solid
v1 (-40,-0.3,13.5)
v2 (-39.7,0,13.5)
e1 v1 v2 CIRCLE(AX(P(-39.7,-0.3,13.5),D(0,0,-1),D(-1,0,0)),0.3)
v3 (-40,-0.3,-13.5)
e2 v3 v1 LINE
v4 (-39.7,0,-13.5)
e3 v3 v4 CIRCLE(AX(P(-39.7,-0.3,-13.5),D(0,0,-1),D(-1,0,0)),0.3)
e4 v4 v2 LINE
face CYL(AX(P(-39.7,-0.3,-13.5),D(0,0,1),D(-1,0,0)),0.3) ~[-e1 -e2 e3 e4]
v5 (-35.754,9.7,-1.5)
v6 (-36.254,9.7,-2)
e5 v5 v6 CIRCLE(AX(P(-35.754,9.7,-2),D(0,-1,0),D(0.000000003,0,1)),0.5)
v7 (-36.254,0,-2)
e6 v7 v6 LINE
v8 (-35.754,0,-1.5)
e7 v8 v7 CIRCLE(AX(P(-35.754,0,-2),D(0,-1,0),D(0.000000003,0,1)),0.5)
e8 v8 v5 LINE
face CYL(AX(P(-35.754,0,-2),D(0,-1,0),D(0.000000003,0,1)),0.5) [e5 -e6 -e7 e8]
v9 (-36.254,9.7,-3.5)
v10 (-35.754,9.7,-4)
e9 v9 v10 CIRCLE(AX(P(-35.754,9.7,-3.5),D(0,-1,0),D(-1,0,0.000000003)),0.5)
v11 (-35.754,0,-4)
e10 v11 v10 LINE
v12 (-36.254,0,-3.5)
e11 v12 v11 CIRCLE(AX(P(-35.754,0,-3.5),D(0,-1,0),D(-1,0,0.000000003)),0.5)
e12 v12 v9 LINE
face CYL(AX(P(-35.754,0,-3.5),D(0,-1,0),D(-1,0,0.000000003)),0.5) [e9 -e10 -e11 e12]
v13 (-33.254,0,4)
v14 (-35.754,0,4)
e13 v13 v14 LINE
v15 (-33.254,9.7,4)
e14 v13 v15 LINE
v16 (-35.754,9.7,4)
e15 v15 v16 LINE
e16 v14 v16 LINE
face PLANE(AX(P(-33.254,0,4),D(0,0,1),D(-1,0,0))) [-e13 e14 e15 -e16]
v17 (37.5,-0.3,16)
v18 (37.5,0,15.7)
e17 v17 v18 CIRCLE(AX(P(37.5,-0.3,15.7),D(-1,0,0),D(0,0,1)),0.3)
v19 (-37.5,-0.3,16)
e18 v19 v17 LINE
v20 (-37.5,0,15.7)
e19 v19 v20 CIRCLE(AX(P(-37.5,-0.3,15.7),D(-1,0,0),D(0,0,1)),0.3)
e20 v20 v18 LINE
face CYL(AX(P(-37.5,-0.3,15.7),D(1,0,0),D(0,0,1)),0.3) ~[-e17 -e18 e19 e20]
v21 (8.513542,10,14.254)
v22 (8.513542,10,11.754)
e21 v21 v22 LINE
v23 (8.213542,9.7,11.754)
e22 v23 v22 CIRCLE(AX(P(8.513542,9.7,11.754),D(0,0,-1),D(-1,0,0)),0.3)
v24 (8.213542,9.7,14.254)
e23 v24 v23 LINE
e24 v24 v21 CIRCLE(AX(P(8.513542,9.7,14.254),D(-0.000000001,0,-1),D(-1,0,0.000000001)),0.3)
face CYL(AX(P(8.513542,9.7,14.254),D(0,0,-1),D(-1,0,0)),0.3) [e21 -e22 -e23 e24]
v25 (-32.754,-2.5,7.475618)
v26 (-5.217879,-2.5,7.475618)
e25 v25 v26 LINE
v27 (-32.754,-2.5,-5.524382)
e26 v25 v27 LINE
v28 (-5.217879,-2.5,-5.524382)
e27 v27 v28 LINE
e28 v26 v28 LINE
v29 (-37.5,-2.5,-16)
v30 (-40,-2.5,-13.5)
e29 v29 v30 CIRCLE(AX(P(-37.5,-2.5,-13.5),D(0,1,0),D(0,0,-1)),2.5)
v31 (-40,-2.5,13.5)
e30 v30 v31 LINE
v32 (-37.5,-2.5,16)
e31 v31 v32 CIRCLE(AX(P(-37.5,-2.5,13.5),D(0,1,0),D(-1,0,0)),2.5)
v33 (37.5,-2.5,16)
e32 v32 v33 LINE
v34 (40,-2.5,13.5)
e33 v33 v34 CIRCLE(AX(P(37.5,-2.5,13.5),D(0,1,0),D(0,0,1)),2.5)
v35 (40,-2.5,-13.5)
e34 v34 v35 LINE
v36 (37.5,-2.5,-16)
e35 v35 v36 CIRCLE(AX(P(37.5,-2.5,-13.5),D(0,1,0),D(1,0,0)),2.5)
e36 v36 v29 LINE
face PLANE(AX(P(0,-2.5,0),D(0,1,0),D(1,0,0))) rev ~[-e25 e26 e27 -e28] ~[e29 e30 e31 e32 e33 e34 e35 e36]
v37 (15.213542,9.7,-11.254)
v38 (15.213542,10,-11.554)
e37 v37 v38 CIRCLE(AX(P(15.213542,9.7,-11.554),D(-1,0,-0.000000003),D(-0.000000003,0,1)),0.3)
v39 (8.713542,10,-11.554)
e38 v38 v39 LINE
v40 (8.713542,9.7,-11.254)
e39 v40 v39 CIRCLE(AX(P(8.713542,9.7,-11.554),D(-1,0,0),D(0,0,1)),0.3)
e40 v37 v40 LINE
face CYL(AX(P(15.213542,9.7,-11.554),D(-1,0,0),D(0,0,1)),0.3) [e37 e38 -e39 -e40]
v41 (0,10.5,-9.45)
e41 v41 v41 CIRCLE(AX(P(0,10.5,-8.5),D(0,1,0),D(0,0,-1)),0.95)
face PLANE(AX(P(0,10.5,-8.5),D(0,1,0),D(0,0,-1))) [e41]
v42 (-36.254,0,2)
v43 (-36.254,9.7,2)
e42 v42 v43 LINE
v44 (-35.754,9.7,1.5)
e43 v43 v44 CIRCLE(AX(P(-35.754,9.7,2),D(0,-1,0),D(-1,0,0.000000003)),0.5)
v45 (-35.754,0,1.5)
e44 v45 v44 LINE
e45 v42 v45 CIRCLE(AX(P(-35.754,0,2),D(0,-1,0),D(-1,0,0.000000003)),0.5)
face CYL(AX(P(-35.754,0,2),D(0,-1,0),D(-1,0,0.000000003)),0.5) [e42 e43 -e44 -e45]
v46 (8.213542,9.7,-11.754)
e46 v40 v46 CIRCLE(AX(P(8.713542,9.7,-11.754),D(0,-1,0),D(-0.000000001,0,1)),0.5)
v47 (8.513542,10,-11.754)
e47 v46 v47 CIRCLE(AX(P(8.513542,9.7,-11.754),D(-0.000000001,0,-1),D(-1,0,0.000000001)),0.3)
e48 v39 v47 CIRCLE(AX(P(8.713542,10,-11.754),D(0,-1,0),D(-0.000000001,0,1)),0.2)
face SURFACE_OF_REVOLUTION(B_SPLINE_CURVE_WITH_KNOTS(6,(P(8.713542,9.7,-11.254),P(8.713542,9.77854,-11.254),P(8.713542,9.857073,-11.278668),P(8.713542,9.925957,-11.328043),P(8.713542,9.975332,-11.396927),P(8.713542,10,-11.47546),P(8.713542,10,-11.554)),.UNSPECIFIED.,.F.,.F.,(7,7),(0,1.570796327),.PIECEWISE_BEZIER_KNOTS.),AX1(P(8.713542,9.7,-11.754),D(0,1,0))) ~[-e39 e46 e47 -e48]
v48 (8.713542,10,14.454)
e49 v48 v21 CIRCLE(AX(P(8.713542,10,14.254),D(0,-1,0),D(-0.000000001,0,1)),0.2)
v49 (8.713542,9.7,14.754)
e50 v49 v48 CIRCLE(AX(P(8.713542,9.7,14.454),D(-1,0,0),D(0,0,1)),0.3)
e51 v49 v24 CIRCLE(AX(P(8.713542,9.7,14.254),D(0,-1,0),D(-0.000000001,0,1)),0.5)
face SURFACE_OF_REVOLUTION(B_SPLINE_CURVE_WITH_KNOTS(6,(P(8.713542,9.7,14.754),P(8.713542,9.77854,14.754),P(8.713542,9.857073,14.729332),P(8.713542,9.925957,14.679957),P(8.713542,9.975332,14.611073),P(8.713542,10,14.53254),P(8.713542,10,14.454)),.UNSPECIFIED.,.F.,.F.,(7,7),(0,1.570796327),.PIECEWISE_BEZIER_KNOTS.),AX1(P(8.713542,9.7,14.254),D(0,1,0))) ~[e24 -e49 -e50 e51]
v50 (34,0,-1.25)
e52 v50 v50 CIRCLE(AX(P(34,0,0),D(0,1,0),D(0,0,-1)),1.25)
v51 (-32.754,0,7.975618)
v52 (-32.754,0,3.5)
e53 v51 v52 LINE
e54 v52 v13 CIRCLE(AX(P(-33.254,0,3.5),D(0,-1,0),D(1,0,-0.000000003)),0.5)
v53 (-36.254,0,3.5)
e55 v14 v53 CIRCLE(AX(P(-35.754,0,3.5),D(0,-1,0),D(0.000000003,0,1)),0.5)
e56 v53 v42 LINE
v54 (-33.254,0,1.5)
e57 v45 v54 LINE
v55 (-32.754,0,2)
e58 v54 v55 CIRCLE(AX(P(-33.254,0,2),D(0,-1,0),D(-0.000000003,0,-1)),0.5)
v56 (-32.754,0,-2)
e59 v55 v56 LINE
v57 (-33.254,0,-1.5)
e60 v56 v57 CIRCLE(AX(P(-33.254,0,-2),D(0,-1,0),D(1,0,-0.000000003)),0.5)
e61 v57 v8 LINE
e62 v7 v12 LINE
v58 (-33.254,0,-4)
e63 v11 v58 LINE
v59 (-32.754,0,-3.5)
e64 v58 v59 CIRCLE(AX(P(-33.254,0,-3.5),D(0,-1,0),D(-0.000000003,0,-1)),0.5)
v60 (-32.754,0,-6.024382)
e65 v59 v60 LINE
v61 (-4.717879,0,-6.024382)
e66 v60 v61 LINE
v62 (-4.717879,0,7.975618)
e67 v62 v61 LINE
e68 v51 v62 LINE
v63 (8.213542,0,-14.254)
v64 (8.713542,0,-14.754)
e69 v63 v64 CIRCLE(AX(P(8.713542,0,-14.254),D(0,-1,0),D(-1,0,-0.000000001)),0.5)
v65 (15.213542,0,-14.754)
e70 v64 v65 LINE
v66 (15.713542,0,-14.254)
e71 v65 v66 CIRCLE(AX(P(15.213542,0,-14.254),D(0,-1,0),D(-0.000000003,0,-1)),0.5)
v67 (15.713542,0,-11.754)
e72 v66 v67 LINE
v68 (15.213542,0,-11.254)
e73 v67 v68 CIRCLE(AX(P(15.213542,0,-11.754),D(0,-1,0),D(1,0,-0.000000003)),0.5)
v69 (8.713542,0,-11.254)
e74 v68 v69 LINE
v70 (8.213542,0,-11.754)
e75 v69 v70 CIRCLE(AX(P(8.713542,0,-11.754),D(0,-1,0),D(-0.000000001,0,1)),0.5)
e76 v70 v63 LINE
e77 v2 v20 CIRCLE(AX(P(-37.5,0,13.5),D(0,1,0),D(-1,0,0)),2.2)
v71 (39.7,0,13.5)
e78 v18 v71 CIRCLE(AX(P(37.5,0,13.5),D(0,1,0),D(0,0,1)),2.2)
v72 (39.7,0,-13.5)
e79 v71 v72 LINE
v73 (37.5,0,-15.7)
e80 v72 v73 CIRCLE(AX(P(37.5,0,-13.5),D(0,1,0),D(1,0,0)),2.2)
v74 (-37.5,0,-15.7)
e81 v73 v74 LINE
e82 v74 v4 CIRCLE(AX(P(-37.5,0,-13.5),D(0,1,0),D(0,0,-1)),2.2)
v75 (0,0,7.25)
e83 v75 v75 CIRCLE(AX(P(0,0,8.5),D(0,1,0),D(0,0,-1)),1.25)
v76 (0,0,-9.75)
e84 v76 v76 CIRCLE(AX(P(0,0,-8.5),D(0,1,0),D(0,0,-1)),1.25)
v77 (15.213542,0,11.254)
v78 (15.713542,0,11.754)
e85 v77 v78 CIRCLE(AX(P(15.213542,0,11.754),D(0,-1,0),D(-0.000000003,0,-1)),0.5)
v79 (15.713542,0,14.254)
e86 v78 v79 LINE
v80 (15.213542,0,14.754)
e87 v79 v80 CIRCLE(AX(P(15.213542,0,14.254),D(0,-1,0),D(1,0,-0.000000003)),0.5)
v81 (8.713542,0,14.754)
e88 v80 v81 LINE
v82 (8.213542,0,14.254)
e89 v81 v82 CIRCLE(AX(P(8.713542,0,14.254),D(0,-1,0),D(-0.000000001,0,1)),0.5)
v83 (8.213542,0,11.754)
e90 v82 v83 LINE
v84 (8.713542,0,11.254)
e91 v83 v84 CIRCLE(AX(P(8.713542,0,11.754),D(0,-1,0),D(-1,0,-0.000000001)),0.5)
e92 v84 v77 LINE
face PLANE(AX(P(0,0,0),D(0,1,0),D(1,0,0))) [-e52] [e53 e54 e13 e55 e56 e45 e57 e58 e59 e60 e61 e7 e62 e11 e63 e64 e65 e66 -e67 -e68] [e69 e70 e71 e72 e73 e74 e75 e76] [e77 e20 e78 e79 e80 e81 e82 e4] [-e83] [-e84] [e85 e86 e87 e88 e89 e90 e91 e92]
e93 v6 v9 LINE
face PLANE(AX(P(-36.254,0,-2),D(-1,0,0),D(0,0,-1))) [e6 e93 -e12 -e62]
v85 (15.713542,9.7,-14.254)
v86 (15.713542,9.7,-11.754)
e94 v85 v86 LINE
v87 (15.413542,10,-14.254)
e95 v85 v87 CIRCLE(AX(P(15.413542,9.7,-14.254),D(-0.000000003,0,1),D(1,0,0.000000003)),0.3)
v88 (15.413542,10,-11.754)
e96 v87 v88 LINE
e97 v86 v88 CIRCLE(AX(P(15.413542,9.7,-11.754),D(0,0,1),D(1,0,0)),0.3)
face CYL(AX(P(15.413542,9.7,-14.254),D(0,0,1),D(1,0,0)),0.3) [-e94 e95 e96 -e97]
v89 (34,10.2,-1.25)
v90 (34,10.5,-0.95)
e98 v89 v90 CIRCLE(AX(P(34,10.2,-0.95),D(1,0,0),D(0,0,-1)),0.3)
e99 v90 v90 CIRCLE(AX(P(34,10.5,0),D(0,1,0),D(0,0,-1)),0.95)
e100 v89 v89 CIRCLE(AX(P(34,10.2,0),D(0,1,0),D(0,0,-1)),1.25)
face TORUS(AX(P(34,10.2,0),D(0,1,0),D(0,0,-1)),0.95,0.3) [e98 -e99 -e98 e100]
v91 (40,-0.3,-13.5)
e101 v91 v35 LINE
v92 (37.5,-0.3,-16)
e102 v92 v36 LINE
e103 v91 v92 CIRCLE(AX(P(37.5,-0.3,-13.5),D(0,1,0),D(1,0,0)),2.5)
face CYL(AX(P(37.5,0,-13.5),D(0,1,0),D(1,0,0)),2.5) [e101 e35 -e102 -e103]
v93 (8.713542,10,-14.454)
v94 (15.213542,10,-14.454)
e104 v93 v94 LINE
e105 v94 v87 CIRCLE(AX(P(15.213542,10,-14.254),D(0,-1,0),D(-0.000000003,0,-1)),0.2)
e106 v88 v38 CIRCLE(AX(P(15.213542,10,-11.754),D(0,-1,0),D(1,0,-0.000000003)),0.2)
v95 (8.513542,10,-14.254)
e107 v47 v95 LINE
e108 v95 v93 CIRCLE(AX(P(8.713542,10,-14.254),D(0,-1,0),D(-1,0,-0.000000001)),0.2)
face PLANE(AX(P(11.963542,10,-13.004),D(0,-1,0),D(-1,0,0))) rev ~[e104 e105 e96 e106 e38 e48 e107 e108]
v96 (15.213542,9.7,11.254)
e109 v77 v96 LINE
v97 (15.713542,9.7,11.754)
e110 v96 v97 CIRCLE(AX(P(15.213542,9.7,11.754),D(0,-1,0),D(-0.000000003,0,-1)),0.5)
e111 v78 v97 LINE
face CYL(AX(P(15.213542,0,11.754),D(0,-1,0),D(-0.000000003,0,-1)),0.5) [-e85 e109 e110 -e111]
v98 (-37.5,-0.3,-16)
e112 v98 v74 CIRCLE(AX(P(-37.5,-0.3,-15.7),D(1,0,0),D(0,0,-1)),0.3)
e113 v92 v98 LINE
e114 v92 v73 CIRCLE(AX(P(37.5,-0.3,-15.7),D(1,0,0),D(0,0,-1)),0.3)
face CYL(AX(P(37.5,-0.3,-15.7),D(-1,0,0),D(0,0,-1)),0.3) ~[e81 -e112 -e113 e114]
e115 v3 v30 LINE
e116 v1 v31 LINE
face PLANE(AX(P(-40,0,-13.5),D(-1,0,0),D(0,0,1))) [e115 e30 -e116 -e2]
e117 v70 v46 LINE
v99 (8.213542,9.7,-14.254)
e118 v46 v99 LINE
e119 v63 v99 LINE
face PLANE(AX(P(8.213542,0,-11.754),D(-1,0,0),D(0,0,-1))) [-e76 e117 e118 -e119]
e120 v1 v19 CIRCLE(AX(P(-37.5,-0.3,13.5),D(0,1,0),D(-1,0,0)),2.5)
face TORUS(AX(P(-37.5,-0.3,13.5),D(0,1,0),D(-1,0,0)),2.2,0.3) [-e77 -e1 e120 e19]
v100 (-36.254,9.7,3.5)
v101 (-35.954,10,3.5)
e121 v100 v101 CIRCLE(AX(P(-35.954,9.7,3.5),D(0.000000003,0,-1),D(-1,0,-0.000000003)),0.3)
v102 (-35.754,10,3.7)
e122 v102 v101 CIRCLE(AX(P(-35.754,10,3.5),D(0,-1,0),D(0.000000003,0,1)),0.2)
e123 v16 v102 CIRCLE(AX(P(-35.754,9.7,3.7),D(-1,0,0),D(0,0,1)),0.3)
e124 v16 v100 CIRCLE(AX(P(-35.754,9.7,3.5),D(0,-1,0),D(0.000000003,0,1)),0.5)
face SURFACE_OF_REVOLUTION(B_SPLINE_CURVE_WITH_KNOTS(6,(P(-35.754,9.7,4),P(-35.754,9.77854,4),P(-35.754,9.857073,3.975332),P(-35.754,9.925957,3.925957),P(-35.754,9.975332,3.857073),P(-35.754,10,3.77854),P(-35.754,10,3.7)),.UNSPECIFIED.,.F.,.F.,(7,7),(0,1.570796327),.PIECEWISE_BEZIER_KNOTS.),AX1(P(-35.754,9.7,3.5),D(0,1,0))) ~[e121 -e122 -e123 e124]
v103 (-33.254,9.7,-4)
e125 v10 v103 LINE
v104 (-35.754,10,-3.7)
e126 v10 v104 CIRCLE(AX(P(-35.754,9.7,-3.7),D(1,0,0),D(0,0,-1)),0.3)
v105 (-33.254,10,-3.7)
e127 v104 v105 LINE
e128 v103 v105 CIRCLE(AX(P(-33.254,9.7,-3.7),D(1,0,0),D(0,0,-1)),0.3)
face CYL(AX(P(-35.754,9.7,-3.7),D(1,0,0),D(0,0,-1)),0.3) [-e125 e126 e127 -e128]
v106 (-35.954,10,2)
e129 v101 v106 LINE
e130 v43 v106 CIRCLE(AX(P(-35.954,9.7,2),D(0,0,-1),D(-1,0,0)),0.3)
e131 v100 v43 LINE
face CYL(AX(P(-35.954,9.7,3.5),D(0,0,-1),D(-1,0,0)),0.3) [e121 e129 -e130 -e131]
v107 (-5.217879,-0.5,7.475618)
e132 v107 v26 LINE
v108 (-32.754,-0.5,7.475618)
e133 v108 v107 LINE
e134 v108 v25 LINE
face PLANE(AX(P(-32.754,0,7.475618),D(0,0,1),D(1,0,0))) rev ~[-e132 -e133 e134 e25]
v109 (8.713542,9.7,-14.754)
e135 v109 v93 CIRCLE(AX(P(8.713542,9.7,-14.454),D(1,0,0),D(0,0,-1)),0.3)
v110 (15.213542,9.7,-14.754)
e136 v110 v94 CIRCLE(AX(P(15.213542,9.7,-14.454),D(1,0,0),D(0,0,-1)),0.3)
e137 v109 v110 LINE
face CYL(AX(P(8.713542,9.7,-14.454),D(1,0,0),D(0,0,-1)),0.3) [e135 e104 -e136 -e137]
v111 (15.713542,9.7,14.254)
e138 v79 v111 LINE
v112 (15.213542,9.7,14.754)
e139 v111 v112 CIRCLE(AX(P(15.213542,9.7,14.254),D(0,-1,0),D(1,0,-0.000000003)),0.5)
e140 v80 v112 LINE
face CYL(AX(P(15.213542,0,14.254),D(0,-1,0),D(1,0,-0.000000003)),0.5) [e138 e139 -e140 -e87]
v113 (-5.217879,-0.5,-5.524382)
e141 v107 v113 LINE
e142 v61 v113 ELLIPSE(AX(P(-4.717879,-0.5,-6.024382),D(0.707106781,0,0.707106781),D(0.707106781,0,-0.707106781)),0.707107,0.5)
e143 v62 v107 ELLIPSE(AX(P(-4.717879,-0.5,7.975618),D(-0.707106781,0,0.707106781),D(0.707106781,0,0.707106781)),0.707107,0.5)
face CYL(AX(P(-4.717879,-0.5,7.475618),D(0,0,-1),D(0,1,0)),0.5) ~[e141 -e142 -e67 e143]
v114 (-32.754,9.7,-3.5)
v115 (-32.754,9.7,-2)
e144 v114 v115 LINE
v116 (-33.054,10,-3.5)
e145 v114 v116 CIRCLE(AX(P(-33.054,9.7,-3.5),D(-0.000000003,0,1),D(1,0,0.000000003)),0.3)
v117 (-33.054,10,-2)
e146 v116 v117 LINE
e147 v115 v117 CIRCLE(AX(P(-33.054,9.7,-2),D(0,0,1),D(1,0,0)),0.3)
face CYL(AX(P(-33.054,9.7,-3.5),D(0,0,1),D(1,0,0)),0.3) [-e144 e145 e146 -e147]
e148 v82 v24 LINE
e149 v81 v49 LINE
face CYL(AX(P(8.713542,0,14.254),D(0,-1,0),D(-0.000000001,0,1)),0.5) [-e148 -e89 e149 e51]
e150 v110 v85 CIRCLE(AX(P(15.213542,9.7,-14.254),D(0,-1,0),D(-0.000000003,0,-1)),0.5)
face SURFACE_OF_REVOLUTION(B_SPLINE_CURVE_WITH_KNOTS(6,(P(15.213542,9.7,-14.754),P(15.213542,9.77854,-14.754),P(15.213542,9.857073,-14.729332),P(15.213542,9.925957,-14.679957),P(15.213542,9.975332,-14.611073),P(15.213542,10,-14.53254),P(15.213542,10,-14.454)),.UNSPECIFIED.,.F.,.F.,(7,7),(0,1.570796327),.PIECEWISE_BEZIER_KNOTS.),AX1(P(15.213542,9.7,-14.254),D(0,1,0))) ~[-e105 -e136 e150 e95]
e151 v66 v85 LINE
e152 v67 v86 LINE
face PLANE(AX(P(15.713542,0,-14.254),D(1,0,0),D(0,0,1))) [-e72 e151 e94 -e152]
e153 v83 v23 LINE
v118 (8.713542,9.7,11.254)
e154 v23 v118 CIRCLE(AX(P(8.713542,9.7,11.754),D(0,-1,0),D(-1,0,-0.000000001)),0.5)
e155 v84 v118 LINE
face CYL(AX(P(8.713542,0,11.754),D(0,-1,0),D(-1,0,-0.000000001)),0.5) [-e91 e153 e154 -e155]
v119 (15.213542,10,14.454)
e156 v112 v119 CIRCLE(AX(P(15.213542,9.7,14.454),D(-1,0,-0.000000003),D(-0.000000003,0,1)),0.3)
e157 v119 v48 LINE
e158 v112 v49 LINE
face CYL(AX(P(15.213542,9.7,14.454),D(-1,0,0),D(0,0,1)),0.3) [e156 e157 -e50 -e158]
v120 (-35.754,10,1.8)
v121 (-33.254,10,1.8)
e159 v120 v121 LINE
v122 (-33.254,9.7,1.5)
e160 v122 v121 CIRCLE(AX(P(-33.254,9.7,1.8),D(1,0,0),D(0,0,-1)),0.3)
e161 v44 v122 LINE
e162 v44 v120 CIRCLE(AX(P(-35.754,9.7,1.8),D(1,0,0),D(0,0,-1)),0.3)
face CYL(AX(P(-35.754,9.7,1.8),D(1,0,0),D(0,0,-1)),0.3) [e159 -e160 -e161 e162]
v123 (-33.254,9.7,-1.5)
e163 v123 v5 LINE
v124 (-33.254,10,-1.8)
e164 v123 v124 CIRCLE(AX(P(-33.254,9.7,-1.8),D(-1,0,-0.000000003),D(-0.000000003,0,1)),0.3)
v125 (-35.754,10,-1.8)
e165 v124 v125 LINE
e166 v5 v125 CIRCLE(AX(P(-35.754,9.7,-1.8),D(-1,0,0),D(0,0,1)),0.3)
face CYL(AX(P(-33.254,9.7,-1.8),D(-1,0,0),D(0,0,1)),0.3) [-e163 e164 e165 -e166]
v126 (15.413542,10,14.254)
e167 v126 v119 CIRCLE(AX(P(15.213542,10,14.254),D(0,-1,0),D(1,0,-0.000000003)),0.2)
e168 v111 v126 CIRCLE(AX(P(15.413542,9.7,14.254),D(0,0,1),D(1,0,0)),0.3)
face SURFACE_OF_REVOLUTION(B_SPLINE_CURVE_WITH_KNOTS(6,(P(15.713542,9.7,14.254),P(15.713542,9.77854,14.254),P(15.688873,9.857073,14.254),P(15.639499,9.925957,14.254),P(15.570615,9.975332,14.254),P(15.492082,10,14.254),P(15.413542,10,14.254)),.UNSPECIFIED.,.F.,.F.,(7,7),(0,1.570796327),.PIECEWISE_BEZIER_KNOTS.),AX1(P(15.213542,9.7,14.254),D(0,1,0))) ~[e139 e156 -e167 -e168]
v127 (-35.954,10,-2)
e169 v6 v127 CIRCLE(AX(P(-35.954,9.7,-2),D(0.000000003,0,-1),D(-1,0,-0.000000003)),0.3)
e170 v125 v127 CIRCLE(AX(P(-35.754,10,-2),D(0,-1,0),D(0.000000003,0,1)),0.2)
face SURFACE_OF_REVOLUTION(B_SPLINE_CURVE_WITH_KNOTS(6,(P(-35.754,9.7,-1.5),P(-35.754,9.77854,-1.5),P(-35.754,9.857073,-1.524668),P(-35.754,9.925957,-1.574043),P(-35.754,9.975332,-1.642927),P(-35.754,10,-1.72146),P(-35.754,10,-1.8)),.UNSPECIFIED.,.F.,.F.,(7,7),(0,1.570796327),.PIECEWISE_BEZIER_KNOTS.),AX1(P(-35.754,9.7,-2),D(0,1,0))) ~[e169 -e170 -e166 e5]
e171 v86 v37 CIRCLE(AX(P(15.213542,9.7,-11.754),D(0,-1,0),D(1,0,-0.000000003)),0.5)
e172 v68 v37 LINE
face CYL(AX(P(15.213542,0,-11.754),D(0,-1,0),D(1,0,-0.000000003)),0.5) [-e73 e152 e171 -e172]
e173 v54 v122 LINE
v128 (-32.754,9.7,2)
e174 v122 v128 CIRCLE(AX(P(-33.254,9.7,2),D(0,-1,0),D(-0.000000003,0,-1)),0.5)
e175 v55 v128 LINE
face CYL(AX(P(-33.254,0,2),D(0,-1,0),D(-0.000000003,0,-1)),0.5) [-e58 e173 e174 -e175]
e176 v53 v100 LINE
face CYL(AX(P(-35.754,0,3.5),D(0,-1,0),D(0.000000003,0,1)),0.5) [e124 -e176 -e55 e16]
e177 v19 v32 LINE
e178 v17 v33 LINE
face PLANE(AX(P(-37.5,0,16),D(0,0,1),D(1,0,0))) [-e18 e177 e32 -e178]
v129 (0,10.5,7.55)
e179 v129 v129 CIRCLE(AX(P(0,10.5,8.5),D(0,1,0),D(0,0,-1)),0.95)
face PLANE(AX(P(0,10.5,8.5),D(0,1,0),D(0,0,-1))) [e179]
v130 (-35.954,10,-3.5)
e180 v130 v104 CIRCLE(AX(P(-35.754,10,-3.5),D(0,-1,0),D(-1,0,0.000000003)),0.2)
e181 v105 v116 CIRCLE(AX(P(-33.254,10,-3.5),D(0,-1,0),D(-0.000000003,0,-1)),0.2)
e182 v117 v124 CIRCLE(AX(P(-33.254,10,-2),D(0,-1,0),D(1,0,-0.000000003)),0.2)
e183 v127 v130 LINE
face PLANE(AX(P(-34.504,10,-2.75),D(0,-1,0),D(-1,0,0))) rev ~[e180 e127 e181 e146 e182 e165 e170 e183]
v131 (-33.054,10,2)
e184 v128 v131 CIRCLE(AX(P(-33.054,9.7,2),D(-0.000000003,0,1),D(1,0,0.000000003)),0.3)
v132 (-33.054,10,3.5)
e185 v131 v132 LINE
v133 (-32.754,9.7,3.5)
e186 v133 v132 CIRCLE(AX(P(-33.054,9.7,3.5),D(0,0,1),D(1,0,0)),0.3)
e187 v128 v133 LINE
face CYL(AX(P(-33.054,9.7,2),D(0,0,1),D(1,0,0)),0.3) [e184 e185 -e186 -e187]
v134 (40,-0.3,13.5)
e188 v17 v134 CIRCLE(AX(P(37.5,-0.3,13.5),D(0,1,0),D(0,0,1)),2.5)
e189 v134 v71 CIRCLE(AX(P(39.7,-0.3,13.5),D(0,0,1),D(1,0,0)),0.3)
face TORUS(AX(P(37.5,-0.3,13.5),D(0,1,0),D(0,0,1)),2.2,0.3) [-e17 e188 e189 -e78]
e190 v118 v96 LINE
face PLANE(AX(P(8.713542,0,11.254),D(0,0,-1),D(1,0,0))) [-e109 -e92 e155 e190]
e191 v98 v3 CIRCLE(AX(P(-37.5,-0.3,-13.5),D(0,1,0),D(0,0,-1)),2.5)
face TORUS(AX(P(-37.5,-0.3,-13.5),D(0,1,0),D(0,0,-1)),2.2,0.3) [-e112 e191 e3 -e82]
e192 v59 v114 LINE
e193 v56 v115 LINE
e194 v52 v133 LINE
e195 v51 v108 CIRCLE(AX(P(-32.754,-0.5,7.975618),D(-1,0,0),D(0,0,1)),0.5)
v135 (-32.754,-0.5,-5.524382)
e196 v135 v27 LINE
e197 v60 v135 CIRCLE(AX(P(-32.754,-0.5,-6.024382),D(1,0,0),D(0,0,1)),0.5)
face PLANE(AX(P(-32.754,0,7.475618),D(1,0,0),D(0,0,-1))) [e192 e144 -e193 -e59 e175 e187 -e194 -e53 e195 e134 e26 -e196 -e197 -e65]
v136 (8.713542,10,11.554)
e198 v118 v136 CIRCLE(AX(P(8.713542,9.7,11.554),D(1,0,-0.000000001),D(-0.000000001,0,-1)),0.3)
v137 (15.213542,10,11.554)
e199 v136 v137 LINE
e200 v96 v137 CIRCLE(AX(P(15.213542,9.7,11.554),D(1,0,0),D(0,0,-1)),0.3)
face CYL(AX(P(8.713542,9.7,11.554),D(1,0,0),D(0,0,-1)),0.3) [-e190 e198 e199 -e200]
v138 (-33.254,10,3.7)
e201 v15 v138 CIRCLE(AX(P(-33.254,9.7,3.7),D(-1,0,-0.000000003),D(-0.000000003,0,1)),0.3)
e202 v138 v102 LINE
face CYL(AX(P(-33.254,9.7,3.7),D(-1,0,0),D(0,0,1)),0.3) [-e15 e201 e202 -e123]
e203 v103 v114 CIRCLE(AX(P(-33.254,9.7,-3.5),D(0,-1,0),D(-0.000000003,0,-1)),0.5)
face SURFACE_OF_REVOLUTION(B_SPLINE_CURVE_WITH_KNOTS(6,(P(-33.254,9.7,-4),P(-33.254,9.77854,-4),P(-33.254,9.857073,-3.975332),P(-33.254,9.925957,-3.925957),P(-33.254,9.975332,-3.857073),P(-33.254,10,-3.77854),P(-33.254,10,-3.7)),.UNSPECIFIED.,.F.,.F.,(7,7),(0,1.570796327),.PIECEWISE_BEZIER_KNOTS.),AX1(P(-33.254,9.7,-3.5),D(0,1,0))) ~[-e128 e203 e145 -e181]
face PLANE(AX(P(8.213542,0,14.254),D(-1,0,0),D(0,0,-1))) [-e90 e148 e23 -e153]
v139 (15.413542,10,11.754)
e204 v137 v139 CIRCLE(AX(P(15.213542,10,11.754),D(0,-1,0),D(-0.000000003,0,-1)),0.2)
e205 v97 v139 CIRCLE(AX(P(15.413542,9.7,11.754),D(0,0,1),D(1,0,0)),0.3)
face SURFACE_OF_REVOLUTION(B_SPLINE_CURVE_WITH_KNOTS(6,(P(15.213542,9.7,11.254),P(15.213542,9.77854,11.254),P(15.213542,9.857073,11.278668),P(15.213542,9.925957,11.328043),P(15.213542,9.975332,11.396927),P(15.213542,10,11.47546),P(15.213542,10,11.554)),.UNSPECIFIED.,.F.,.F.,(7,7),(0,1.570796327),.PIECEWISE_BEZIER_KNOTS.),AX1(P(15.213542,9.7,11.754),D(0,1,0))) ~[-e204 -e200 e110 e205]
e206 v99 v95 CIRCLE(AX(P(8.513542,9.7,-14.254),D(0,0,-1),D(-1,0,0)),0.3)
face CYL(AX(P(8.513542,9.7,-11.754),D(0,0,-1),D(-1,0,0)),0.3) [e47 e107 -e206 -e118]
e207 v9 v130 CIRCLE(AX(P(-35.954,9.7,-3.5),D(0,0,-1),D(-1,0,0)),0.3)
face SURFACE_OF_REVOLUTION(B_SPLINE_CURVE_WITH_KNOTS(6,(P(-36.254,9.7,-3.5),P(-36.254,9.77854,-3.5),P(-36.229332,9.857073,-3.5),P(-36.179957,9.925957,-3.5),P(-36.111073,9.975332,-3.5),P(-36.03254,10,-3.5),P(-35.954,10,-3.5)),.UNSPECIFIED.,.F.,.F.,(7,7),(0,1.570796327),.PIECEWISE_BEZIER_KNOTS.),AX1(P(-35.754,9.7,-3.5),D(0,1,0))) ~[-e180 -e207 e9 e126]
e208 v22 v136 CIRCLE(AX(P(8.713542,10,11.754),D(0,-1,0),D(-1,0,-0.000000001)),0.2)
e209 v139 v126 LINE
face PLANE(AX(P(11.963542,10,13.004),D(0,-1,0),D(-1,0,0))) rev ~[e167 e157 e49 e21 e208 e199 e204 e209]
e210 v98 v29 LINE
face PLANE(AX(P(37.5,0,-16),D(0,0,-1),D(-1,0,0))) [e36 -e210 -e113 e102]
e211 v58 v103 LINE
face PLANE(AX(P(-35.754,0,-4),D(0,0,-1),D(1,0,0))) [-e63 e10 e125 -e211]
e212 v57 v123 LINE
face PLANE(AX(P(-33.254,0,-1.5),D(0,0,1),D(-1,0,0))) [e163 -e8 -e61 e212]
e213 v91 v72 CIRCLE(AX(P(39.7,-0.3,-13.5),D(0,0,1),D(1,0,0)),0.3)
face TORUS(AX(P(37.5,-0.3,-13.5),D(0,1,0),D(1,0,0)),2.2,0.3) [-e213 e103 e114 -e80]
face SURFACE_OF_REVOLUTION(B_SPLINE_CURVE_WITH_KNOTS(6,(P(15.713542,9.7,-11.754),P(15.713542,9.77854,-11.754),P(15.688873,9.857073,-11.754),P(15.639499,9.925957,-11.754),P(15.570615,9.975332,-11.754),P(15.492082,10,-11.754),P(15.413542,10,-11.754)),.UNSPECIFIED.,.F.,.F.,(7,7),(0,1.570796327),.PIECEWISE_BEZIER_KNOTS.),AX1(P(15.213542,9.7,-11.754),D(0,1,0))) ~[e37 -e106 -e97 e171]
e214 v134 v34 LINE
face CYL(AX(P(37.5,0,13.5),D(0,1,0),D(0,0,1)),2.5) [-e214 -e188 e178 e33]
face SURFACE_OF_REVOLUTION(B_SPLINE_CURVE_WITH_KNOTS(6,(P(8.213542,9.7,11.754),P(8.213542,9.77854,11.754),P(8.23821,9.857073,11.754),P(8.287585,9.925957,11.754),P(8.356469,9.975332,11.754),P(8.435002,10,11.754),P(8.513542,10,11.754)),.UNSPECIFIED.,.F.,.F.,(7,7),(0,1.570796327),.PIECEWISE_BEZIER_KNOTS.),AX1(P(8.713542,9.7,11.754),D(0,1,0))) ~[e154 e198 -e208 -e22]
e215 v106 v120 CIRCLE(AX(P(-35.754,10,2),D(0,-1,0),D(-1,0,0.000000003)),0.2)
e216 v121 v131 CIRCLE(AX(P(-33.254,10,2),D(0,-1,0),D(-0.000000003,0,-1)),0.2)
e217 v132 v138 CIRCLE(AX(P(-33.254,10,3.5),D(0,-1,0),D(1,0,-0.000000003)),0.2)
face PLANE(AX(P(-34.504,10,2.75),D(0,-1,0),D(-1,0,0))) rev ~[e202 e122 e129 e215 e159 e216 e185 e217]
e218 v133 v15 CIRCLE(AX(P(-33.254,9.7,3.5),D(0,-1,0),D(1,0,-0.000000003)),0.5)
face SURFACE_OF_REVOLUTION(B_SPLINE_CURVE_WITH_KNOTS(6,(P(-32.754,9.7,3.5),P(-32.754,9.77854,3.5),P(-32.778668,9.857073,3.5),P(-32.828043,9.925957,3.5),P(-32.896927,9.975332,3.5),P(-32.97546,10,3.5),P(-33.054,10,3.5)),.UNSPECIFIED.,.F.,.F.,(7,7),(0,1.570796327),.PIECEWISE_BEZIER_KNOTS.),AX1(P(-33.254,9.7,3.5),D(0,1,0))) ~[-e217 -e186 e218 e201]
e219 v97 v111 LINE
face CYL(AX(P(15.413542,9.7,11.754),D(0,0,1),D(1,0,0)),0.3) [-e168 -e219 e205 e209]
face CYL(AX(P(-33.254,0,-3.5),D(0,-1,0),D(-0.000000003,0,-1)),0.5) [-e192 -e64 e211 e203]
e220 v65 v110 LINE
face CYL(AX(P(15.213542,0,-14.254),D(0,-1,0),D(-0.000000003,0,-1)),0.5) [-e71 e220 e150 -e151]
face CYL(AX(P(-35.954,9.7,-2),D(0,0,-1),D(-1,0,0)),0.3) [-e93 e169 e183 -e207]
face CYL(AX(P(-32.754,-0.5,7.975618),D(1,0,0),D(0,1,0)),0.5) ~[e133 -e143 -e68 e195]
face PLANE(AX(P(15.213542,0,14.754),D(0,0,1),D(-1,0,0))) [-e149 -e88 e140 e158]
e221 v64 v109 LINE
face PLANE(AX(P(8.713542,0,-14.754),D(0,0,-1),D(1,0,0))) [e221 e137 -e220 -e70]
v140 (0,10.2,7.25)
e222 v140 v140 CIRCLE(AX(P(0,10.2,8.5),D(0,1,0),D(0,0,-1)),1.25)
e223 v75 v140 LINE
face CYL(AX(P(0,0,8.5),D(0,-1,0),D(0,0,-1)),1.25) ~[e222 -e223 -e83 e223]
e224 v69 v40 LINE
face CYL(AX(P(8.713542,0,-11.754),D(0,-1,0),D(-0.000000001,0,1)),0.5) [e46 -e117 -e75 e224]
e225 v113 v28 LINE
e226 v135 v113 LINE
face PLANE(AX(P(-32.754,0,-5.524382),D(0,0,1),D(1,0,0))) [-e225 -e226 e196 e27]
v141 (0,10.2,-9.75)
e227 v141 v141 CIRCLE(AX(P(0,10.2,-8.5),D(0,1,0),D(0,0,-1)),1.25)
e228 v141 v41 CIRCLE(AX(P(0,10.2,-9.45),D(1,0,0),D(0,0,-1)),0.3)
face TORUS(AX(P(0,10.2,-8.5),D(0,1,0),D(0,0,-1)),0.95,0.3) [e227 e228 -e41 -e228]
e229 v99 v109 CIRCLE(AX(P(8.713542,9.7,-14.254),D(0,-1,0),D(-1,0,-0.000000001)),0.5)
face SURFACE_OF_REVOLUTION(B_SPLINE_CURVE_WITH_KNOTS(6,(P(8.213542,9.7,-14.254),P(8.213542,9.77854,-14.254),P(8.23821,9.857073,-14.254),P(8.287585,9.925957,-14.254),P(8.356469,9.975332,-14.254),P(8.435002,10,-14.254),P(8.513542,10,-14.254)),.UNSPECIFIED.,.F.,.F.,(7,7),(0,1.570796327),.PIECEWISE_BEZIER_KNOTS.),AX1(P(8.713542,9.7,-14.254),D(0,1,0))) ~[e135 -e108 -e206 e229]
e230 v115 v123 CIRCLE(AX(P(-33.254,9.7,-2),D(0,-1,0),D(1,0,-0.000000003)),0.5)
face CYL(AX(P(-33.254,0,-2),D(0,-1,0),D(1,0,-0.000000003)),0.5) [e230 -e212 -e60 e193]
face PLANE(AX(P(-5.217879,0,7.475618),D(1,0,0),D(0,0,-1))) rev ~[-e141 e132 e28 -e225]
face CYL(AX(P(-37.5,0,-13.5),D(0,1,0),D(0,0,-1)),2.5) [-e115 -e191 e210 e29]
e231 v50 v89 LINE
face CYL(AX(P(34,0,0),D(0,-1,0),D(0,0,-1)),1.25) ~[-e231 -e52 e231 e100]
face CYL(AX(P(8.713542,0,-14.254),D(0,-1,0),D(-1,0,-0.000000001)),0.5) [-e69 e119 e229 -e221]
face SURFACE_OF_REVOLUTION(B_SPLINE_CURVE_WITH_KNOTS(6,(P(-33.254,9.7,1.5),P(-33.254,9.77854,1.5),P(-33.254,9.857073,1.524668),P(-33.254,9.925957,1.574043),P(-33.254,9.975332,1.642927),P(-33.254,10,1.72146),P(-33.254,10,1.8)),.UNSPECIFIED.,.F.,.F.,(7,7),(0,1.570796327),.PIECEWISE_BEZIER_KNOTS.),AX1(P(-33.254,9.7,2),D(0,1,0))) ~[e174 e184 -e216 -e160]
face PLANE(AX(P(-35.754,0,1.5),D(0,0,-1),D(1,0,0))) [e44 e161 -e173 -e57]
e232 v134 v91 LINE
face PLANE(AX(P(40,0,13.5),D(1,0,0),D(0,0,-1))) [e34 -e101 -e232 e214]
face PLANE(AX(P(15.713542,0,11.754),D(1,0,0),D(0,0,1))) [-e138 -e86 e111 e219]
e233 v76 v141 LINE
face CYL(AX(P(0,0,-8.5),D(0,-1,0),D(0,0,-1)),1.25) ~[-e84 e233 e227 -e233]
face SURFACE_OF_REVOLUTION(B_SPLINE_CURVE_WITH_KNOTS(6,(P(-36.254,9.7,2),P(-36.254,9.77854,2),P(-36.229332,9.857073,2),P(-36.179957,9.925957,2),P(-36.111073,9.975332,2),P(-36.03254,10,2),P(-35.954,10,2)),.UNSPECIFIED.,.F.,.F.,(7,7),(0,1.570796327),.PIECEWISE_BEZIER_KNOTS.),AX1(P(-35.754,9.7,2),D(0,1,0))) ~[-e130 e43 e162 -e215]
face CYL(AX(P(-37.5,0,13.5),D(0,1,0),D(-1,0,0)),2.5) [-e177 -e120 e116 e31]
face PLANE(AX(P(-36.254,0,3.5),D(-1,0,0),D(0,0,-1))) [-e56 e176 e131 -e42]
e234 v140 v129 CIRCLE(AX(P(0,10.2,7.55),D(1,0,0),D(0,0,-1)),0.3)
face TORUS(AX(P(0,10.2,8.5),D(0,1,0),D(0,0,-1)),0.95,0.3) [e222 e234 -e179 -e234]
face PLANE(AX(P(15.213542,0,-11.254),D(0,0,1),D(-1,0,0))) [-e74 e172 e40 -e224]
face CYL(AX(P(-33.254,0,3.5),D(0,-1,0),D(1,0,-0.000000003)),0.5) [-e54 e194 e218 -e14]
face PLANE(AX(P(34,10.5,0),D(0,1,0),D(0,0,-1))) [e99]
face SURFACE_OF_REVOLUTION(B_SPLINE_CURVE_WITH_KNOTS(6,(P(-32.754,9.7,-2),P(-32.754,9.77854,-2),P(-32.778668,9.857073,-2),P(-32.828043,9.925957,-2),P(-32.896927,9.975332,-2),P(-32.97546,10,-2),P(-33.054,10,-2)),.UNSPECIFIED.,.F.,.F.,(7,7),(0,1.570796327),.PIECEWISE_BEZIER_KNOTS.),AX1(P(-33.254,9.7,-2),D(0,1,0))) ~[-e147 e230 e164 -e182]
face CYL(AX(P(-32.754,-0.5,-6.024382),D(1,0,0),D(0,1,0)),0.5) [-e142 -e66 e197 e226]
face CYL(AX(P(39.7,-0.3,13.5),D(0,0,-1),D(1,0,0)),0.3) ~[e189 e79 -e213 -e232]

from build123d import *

# Parameters (mm, degrees)
SKETCH3_R             = 1.25
BOSS_EXTRUDE1_DEPTH   = 10.5
BOSS_EXTRUDE1_2_DEPTH = 10.5
BOSS_EXTRUDE1_3_DEPTH = 10.5
BOSS_EXTRUDE2_DEPTH   = 10
BOSS_EXTRUDE2_2_DEPTH = 10
BOSS_EXTRUDE2_3_DEPTH = 10
BOSS_EXTRUDE2_4_DEPTH = 10
BOSS_EXTRUDE3_DEPTH   = 2.5
FILLET1_R             = 0.3
SKETCH9_W             = 27.536120899
SKETCH9_H             = 13
CUT_EXTRUDE1_DEPTH    = 45.342417616
FILLET2_R             = 0.5


with BuildPart() as part:
    # Sketch3 → Boss-Extrude1 (new body)
    with BuildSketch(Plane(origin=(0, 0, 0), x_dir=(1, 0, 0), z_dir=(0, 1, 0))):
        with Locations(Location((0, 8.5, 0), (0, 0, 90))):
            Circle(SKETCH3_R)
    extrude(amount=BOSS_EXTRUDE1_DEPTH)



with BuildPart() as body_2:
    # Sketch3 → Boss-Extrude1 2 (new body)
    with BuildSketch(Plane(origin=(0, 0, 0), x_dir=(1, 0, 0), z_dir=(0, 1, 0))):
        with Locations(Location((0, -8.5, 0), (0, 0, 90))):
            Circle(SKETCH3_R)
    extrude(amount=BOSS_EXTRUDE1_2_DEPTH)


with BuildPart() as body_3:
    # Sketch3 → Boss-Extrude1 3 (new body)
    with BuildSketch(Plane(origin=(0, 0, 0), x_dir=(1, 0, 0), z_dir=(0, 1, 0))):
        with Locations(Location((34, 0, 0), (0, 0, 90))):
            Circle(SKETCH3_R)
    extrude(amount=BOSS_EXTRUDE1_3_DEPTH)


with BuildPart() as body_4:
    # Sketch7 → Boss-Extrude2 (new body)
    with BuildSketch(Plane(origin=(0, 0, 0), x_dir=(1, 0, 0), z_dir=(0, 1, 0))):
        with BuildLine():
            Line((8.713541775, -11.254), (15.213541775, -11.254))
            ThreePointArc((15.213541775, -11.254), (15.567095166, -11.400446609), (15.713541775, -11.754))
            Line((15.713541775, -11.754), (15.713541775, -14.254))
            ThreePointArc((15.713541775, -14.254), (15.567095166, -14.607553391), (15.213541775, -14.754))
            Line((15.213541775, -14.754), (8.713541775, -14.754))
            ThreePointArc((8.713541775, -14.754), (8.359988385, -14.607553391), (8.213541775, -14.254))
            Line((8.213541775, -14.254), (8.213541775, -11.754))
            ThreePointArc((8.213541775, -11.754), (8.359988385, -11.400446609), (8.713541775, -11.254))
        make_face()
    extrude(amount=BOSS_EXTRUDE2_DEPTH)


with BuildPart() as body_5:
    # Sketch7 → Boss-Extrude2 2 (new body)
    with BuildSketch(Plane(origin=(0, 0, 0), x_dir=(1, 0, 0), z_dir=(0, 1, 0))):
        with BuildLine():
            Line((8.713541775, 14.754), (15.213541775, 14.754))
            ThreePointArc((15.213541775, 14.754), (15.567095166, 14.607553391), (15.713541775, 14.254))
            Line((15.713541775, 14.254), (15.713541775, 11.754))
            ThreePointArc((15.713541775, 11.754), (15.567095166, 11.400446609), (15.213541775, 11.254))
            Line((15.213541775, 11.254), (8.713541775, 11.254))
            ThreePointArc((8.713541775, 11.254), (8.359988385, 11.400446609), (8.213541775, 11.754))
            Line((8.213541775, 11.754), (8.213541775, 14.254))
            ThreePointArc((8.213541775, 14.254), (8.359988385, 14.607553391), (8.713541775, 14.754))
        make_face()
    extrude(amount=BOSS_EXTRUDE2_2_DEPTH)


with BuildPart() as body_6:
    # Sketch7 → Boss-Extrude2 3 (new body)
    with BuildSketch(Plane(origin=(0, 0, 0), x_dir=(1, 0, 0), z_dir=(0, 1, 0))):
        with BuildLine():
            Line((-36.254, -3.5), (-36.254, -2))
            ThreePointArc((-36.254, -2), (-36.107553391, -1.646446609), (-35.754, -1.5))
            Line((-35.754, -1.5), (-33.254, -1.5))
            ThreePointArc((-33.254, -1.5), (-32.900446609, -1.646446609), (-32.754, -2))
            Line((-32.754, -2), (-32.754, -3.5))
            ThreePointArc((-32.754, -3.5), (-32.900446609, -3.853553391), (-33.254, -4))
            Line((-33.254, -4), (-35.754, -4))
            ThreePointArc((-35.754, -4), (-36.107553391, -3.853553391), (-36.254, -3.5))
        make_face()
    extrude(amount=BOSS_EXTRUDE2_3_DEPTH)


with BuildPart() as body_7:
    # Sketch7 → Boss-Extrude2 4 (new body)
    with BuildSketch(Plane(origin=(0, 0, 0), x_dir=(1, 0, 0), z_dir=(0, 1, 0))):
        with BuildLine():
            Line((-35.754, 4), (-33.254, 4))
            ThreePointArc((-33.254, 4), (-32.900446609, 3.853553391), (-32.754, 3.5))
            Line((-32.754, 3.5), (-32.754, 2))
            ThreePointArc((-32.754, 2), (-32.900446609, 1.646446609), (-33.254, 1.5))
            Line((-33.254, 1.5), (-35.754, 1.5))
            ThreePointArc((-35.754, 1.5), (-36.107553391, 1.646446609), (-36.254, 2))
            Line((-36.254, 2), (-36.254, 3.5))
            ThreePointArc((-36.254, 3.5), (-36.107553391, 3.853553391), (-35.754, 4))
        make_face()
    extrude(amount=BOSS_EXTRUDE2_4_DEPTH)


with BuildPart() as part_1:
    add(part.part)

    add(body_2.part)  # Boss-Extrude3 merges body 2

    add(body_3.part)  # Boss-Extrude3 merges body 3

    add(body_4.part)  # Boss-Extrude3 merges body 4

    add(body_5.part)  # Boss-Extrude3 merges body 5

    add(body_6.part)  # Boss-Extrude3 merges body 6

    add(body_7.part)  # Boss-Extrude3 merges body 7
    # Sketch8 → Boss-Extrude3 (add)
    with BuildSketch(Plane(origin=(0, 0, 0), x_dir=(1, 0, 0), z_dir=(0, 1, 0))):
        with BuildLine():
            Line((-37.5, -16), (37.5, -16))
            ThreePointArc((37.5, -16), (39.267766953, -15.267766953), (40, -13.5))
            Line((40, -13.5), (40, 13.5))
            ThreePointArc((40, 13.5), (39.267766953, 15.267766953), (37.5, 16))
            Line((37.5, 16), (-37.5, 16))
            ThreePointArc((-37.5, 16), (-39.267766953, 15.267766953), (-40, 13.5))
            Line((-40, 13.5), (-40, -13.5))
            ThreePointArc((-40, -13.5), (-39.267766953, -15.267766953), (-37.5, -16))
        make_face()
    extrude(amount=-BOSS_EXTRUDE3_DEPTH)

    # Fillet1
    fillet1_edges = [part_1.edges().sort_by_distance(p)[0] for p in [
        (-39.267766953, 0, 15.267766953),
        (0, 0, 16),
        (39.267766953, 0, 15.267766953),
        (40, 0, 0),
        (39.267766953, 0, -15.267766953),
        (0, 0, -16),
        (-39.267766953, 0, -15.267766953),
        (-40, 0, 0),
        (0, 10.5, 9.75),
        (34, 10.5, 1.25),
        (15.713541775, 10, 13.004),
        (15.567095166, 10, 11.400446609),
        (11.963541775, 10, 11.254),
        (8.359988385, 10, 11.400446609),
        (8.213541775, 10, 13.004),
        (8.359988385, 10, 14.607553391),
        (11.963541775, 10, 14.754),
        (15.567095166, 10, 14.607553391),
        (0, 10.5, -7.25),
        (11.963541775, 10, -14.754),
        (8.213541775, 10, -13.004),
        (8.359988385, 10, -11.400446609),
        (15.567095166, 10, -11.400446609),
        (15.567095166, 10, -14.607553391),
        (8.359988385, 10, -14.607553391),
        (11.963541775, 10, -11.254),
        (15.713541775, 10, -13.004),
        (-34.504, 10, -4),
        (-32.754, 10, -2.75),
        (-32.900446609, 10, -3.853553391),
        (-36.107553391, 10, -3.853553391),
        (-36.254, 10, -2.75),
        (-36.107553391, 10, -1.646446609),
        (-34.504, 10, -1.5),
        (-32.900446609, 10, -1.646446609),
        (-34.504, 10, 1.5),
        (-36.107553391, 10, 1.646446609),
        (-36.254, 10, 2.75),
        (-32.754, 10, 2.75),
        (-32.900446609, 10, 1.646446609),
        (-36.107553391, 10, 3.853553391),
        (-34.504, 10, 4),
        (-32.900446609, 10, 3.853553391),
    ]]
    fillet(fillet1_edges, radius=FILLET1_R)

    # Sketch9 → Cut-Extrude1 (cut, through all)
    with BuildSketch(Plane(origin=(0, 0, 0), x_dir=(1, 0, 0), z_dir=(0, 1, 0))):
        with Locations((-18.985939551, -0.975617597)):
            Rectangle(SKETCH9_W, SKETCH9_H)
    extrude(amount=-CUT_EXTRUDE1_DEPTH, mode=Mode.SUBTRACT)

    # Fillet2
    fillet2_edges = [part_1.edges().sort_by_distance(p)[0] for p in [
        (-18.985939551, 0, 7.475617597),
        (-5.217879101, 0, 0.975617597),
        (-18.985939551, 0, -5.524382403),
    ]]
    fillet(fillet2_edges, radius=FILLET2_R)


solid = part_1.part
